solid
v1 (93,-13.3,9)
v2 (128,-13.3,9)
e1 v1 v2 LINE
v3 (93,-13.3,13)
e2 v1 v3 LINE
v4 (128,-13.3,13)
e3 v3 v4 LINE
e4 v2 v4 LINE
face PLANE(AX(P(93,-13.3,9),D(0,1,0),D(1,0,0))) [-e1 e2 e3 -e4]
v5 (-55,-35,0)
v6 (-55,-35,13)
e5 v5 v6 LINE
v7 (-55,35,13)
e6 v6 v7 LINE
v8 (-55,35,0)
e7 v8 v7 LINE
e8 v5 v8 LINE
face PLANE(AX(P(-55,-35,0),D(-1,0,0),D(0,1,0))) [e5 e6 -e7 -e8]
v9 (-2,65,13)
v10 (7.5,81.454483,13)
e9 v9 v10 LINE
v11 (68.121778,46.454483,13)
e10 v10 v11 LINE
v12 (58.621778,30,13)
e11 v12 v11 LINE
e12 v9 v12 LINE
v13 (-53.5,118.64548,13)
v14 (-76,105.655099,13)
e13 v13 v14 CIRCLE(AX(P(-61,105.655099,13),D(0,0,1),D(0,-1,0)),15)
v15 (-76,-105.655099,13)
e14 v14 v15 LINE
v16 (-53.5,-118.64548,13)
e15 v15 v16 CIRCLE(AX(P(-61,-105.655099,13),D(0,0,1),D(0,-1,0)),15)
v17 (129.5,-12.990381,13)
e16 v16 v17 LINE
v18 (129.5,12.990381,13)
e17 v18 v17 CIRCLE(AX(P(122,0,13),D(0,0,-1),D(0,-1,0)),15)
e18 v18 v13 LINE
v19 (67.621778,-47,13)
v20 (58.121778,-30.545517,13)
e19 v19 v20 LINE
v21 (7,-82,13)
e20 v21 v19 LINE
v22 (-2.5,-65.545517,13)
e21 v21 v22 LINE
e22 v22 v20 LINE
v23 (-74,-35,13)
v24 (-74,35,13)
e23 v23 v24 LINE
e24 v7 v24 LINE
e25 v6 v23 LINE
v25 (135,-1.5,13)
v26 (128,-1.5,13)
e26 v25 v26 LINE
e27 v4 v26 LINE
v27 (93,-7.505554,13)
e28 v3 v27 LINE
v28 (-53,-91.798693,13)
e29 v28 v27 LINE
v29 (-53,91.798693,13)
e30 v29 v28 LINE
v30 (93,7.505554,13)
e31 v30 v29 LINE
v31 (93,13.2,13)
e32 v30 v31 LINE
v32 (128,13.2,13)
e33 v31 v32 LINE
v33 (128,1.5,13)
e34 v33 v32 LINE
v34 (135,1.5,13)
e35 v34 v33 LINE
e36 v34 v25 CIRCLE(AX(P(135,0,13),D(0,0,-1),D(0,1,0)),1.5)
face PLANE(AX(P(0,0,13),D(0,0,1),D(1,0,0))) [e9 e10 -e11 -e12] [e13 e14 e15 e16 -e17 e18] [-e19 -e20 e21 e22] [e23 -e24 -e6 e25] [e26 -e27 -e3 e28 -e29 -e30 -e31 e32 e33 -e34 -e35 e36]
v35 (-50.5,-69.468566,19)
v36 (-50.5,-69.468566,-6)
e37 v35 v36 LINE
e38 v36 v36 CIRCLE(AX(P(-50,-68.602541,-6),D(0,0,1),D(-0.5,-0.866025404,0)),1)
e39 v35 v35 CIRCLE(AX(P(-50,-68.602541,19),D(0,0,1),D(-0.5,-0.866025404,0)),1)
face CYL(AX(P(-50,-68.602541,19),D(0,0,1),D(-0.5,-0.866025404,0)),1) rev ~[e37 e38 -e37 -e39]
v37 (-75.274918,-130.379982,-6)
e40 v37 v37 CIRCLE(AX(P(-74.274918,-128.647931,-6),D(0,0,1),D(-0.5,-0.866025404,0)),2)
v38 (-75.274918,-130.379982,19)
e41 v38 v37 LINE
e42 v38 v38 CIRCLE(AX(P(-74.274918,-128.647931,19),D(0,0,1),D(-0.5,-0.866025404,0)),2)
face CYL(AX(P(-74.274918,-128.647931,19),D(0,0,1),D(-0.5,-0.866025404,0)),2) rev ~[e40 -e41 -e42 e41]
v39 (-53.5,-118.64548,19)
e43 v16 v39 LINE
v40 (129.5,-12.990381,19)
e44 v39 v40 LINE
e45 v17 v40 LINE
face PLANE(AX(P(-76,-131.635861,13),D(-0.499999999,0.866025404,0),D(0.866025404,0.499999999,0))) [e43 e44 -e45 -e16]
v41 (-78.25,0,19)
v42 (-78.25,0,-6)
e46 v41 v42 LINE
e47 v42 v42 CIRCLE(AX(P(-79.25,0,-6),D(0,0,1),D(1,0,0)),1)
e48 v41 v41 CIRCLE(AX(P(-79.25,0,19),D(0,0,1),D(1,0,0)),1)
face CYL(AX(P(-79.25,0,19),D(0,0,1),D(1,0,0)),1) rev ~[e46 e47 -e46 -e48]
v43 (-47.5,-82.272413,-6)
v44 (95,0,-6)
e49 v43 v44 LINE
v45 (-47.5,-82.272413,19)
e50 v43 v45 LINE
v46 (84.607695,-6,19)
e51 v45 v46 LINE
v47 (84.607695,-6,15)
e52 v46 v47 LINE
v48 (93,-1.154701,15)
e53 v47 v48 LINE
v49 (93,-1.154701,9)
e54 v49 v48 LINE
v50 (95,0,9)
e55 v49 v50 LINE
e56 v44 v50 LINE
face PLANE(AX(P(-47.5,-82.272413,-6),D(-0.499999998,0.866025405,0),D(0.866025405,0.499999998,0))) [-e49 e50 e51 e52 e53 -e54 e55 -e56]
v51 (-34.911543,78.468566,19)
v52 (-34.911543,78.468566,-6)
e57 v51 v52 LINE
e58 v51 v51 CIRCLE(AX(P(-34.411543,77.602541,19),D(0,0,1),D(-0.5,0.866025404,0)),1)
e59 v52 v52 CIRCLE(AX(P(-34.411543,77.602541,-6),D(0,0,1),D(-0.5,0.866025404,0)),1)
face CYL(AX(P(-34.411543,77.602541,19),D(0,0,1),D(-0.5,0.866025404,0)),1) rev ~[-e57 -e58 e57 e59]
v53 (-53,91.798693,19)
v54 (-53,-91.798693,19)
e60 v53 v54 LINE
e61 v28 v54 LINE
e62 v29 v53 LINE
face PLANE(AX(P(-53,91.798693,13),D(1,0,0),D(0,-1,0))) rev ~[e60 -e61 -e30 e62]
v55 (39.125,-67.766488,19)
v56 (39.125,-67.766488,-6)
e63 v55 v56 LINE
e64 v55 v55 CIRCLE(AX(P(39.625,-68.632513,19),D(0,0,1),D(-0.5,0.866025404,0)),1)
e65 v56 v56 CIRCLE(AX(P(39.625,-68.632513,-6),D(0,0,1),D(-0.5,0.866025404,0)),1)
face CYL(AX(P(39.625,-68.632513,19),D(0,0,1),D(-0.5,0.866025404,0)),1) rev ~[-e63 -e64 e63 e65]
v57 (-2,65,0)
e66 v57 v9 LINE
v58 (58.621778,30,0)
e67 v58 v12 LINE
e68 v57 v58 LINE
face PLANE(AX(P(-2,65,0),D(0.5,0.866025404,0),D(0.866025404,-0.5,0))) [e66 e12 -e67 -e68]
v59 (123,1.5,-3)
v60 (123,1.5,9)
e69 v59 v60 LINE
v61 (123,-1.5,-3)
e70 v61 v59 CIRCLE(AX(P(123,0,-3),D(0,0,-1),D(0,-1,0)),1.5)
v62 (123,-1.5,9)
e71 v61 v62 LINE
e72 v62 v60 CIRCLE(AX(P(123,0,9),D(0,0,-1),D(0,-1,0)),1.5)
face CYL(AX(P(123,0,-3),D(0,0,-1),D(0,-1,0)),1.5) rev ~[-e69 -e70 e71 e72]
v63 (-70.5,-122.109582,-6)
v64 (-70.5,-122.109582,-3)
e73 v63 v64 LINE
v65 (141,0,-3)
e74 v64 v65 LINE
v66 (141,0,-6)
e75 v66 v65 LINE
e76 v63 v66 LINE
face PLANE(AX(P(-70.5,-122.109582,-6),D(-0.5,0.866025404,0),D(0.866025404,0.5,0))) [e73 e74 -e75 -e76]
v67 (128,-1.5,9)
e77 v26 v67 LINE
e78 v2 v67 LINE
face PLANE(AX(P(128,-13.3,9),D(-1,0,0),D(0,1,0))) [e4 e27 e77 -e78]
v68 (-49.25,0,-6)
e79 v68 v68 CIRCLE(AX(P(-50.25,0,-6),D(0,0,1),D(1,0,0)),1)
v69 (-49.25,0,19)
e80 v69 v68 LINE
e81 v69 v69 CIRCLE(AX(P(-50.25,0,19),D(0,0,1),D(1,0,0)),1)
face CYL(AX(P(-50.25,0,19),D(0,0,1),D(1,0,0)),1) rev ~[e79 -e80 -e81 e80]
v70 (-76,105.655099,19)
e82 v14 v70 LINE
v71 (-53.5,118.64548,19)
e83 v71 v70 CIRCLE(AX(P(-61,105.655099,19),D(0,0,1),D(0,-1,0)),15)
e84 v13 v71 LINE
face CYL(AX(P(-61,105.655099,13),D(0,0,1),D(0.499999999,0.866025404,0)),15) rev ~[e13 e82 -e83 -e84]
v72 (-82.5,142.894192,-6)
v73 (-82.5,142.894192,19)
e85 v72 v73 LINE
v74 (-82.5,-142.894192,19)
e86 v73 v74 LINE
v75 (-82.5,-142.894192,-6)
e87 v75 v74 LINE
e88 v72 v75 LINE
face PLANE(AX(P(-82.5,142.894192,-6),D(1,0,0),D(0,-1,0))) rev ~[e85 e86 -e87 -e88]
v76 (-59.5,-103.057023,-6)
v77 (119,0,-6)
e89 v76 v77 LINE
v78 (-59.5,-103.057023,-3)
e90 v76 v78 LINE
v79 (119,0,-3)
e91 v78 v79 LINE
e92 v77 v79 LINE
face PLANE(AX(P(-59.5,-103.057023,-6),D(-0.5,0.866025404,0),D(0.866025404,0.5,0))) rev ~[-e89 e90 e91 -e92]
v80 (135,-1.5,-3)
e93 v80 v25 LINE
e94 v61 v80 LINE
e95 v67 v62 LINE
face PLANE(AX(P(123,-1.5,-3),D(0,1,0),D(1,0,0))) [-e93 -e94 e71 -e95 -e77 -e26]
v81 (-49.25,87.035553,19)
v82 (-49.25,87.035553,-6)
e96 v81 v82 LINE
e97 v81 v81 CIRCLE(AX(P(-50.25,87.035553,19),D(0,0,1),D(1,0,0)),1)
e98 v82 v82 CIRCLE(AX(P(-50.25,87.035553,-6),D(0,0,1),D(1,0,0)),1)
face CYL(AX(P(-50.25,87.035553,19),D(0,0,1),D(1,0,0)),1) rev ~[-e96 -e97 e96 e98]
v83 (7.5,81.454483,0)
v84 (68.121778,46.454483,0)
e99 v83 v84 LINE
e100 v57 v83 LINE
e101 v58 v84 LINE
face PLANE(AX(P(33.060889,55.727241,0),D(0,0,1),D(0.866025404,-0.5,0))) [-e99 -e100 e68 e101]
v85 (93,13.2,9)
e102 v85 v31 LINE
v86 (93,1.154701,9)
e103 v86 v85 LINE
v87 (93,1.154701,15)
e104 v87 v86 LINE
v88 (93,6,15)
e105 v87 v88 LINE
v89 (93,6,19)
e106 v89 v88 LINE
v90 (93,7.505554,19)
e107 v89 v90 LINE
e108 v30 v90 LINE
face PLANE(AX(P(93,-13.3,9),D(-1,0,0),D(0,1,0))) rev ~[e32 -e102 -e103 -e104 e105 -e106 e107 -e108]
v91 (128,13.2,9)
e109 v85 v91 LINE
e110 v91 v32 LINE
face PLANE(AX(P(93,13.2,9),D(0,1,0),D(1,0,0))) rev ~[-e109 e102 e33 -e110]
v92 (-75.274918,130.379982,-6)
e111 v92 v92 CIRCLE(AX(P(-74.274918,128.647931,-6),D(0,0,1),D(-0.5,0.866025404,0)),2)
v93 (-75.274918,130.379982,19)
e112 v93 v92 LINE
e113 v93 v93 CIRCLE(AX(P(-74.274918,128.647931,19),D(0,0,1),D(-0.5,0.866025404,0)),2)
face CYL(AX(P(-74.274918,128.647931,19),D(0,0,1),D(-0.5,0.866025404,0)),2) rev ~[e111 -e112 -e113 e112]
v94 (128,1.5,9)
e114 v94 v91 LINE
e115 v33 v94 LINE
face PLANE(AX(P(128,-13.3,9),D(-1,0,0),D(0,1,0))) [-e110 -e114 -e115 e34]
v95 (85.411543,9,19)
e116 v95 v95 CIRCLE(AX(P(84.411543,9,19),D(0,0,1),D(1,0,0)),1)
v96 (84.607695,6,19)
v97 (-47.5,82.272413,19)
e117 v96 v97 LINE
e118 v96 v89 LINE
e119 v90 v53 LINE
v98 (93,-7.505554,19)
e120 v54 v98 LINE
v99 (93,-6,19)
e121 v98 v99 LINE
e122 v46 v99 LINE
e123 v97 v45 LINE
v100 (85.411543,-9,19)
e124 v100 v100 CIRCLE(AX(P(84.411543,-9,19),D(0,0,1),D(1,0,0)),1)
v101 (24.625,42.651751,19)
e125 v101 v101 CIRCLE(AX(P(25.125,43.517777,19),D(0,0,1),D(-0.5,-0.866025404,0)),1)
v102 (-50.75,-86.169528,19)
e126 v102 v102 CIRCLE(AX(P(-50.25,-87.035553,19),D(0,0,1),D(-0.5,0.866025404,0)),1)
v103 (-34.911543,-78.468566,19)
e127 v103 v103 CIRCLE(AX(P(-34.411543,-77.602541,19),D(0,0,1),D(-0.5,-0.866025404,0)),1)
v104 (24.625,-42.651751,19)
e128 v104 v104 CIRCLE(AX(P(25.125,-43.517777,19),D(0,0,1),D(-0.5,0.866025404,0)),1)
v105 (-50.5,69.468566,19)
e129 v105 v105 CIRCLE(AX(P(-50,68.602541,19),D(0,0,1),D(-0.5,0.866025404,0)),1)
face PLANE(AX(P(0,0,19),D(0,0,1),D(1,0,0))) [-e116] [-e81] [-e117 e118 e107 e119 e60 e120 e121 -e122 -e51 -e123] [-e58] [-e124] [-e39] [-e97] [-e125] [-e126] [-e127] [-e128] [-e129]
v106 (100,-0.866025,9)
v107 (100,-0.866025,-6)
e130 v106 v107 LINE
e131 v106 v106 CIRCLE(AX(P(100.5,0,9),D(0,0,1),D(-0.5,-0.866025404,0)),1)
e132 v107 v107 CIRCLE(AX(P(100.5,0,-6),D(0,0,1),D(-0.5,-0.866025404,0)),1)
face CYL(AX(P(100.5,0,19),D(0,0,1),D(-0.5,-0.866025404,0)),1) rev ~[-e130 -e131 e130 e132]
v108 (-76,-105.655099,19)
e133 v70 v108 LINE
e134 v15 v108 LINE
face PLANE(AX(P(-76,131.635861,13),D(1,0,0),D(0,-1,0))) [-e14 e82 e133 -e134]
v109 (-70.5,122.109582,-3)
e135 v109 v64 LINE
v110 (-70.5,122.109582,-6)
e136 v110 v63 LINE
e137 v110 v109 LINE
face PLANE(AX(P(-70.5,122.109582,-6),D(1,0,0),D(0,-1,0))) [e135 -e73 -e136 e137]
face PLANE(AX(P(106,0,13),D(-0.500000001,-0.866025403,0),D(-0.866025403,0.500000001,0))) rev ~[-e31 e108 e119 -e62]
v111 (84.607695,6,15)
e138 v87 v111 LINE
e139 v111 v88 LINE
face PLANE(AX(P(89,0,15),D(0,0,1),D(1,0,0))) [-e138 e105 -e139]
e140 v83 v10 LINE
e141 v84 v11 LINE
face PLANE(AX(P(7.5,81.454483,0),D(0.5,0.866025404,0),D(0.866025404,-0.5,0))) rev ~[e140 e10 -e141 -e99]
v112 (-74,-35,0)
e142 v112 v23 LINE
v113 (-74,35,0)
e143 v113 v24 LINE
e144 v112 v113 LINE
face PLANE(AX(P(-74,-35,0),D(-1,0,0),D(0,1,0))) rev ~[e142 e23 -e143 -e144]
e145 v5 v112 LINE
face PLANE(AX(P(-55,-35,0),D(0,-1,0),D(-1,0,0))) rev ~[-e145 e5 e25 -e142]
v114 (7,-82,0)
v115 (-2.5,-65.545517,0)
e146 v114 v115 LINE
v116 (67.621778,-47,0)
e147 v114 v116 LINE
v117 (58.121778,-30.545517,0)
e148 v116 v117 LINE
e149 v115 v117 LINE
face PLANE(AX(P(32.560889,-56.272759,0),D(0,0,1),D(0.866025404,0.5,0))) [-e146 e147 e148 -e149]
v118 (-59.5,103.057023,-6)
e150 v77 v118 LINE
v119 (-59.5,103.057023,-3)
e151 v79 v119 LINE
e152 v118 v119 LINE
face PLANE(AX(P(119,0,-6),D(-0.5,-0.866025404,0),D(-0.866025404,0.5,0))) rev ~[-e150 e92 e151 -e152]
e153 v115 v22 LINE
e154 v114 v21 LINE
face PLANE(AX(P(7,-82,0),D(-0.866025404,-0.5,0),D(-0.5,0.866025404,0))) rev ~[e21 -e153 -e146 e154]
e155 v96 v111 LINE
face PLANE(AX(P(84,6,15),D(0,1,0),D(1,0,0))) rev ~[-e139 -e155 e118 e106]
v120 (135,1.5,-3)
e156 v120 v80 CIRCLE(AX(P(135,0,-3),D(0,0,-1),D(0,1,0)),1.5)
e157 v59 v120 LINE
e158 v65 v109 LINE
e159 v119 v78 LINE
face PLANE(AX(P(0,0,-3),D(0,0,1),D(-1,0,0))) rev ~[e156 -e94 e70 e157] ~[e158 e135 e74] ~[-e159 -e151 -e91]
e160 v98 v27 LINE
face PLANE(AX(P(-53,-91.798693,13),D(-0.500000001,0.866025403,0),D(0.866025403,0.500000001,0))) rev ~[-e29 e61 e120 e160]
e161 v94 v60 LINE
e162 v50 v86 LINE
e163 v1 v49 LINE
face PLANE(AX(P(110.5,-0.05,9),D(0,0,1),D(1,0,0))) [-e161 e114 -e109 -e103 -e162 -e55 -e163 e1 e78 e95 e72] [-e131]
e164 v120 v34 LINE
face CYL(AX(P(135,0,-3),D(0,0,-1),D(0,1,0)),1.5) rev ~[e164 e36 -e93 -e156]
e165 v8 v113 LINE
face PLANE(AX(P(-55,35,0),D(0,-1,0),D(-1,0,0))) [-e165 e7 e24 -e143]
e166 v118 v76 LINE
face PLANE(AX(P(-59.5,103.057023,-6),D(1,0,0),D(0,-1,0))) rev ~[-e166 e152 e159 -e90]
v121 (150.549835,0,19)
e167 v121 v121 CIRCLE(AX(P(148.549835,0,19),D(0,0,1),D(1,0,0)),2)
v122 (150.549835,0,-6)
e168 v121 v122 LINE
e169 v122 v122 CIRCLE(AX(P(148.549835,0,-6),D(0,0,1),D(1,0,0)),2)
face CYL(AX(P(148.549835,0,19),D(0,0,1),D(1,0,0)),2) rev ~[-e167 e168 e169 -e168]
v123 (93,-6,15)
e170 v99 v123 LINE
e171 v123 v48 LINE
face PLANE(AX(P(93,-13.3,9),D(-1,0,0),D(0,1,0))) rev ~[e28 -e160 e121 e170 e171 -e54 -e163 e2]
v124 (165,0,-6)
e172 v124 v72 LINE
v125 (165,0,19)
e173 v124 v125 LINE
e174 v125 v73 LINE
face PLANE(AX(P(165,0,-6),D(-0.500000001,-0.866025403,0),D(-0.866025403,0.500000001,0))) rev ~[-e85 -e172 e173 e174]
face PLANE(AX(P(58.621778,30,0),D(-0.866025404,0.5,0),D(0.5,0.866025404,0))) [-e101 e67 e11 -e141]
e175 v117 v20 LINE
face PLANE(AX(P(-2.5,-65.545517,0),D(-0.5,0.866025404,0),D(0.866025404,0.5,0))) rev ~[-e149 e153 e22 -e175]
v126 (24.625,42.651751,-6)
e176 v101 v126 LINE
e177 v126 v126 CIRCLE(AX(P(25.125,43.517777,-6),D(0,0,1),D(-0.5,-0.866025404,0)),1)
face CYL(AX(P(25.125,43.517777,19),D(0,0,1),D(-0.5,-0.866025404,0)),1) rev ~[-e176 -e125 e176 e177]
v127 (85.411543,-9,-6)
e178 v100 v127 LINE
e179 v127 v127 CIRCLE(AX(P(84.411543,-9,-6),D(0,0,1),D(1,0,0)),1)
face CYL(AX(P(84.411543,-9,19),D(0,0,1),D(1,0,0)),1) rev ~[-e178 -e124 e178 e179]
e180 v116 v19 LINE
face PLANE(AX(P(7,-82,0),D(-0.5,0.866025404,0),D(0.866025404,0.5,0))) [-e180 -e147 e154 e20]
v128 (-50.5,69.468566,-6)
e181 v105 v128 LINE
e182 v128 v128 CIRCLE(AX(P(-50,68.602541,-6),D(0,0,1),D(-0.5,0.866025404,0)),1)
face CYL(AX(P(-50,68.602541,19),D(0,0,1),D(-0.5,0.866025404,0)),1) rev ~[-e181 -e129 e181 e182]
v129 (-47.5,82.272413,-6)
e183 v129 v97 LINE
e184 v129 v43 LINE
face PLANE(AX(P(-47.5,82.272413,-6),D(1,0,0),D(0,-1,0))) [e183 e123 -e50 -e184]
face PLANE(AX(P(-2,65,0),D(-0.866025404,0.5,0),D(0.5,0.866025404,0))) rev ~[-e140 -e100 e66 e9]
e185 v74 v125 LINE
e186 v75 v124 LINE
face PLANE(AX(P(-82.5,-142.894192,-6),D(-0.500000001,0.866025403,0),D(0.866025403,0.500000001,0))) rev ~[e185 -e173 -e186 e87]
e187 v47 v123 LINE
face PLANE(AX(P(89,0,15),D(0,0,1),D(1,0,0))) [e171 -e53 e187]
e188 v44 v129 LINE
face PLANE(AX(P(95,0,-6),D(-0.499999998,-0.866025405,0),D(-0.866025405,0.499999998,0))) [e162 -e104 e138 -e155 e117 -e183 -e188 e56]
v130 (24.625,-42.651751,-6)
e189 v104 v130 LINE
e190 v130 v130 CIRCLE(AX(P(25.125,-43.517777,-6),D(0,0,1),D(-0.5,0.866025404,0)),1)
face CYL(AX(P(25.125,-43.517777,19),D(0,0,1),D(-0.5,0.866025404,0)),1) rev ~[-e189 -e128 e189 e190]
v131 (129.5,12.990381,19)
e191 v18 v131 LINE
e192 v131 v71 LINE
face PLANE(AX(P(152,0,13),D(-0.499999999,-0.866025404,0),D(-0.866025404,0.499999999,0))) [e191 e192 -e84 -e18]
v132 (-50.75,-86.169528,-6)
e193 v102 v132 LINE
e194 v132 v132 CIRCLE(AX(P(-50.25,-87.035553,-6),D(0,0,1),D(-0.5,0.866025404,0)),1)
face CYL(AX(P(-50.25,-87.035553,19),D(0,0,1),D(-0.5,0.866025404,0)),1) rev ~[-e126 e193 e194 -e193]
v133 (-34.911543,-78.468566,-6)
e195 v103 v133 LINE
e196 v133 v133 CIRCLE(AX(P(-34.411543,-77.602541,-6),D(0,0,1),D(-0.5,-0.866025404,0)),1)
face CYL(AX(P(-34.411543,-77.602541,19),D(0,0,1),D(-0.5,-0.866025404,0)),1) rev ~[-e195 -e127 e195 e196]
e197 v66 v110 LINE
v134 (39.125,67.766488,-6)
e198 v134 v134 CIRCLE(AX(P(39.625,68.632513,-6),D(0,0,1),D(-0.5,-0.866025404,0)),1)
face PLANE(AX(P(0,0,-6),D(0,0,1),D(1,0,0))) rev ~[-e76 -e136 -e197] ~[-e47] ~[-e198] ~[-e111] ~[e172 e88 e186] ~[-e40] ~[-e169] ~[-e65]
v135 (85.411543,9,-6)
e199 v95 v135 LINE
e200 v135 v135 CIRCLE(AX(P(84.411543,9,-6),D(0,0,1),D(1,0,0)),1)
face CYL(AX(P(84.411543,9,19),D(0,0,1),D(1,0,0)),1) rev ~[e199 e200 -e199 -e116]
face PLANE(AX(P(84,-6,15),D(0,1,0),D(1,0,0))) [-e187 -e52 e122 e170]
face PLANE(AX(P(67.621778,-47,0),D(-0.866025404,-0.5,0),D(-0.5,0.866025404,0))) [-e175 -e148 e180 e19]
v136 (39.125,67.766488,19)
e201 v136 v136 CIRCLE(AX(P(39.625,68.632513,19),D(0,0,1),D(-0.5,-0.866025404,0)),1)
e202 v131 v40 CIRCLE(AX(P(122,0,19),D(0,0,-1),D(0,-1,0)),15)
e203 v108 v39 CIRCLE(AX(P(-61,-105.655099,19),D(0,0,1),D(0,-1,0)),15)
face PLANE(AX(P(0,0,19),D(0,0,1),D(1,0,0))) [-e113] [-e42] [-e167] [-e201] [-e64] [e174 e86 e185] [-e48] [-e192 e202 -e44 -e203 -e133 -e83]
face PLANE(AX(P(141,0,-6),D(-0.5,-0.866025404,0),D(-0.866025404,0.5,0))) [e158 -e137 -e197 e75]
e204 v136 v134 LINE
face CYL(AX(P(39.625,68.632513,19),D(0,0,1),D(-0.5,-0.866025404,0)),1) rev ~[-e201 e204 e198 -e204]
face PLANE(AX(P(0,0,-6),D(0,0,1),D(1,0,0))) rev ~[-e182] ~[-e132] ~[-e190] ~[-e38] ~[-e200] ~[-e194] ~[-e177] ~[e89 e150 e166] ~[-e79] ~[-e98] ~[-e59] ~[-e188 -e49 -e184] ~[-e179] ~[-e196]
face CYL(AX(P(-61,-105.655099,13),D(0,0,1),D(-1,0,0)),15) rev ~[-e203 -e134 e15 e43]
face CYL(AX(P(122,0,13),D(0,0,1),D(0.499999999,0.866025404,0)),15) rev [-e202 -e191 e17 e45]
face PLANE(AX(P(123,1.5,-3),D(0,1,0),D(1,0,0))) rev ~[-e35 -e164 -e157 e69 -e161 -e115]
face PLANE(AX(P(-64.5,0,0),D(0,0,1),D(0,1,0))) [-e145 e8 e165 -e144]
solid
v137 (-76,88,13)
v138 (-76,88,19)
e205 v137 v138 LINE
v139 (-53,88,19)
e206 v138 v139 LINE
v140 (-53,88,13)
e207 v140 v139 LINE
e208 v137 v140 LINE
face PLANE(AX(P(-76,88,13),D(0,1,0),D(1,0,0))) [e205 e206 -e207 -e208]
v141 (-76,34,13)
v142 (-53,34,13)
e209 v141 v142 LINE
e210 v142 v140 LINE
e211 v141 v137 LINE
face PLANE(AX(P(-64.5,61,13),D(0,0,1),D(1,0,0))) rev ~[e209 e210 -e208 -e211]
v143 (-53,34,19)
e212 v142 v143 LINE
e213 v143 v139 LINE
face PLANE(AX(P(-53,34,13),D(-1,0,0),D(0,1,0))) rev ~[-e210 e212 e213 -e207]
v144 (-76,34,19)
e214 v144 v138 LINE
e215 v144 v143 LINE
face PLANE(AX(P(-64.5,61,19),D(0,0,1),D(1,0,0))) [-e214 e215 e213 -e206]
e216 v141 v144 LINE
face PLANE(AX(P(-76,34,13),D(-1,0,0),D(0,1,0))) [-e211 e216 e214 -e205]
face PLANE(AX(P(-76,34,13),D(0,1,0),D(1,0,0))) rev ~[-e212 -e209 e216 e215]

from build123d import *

# Parameters (mm, degrees)
BOX005_W               = 23
BOX005_H               = 54
BOX005_DEPTH           = 6
PRISM003_DEPTH         = 6
PRISM002_DEPTH         = 6
BOX004_W               = 10
BOX004_H               = 12
BOX004_DEPTH           = 4
BOX003_W               = 35
BOX003_H               = 26.5
BOX003_DEPTH           = 10
BOX002_W               = 70
BOX002_H               = 19
BOX002_DEPTH           = 19
BOX002_PLACEMENT_ANGLE = 30
BOX001_W               = 70
BOX001_H               = 19
BOX001_DEPTH           = 19
BOX001_PLACEMENT_ANGLE = 90
BOX_W                  = 70
BOX_H                  = 19
BOX_DEPTH              = 19
BOX_PLACEMENT_ANGLE    = 30
PRISM001_DEPTH         = 25
PRISM_DEPTH            = 25
FILLET_R               = 15
SKETCH001_R            = 2
POCKET_DEPTH           = 782.777352
POLARPATTERN_COUNT     = 3
POCKET001_DEPTH        = 3
SKETCH002_R            = 1
POCKET002_DEPTH        = 782.777352
POLARPATTERN001_COUNT  = 3
SKETCH004_R            = 1
POCKET003_DEPTH        = 782.777352
POLARPATTERN002_COUNT  = 3
POLARPATTERN003_COUNT  = 3
SKETCH005_R            = 1
POCKET004_DEPTH        = 782.777352
POLARPATTERN004_COUNT  = 3
POCKET005_DEPTH        = 22.001


with BuildPart() as box005:
    # Box005 → Box005 (new body)
    with BuildSketch(Plane(origin=(-76, 34, 13), x_dir=(1, 0, 0), z_dir=(0, 0, 1))):
        with Locations((11.5, 27)):
            Rectangle(BOX005_W, BOX005_H)
    extrude(amount=BOX005_DEPTH)


with BuildPart() as prism003:
    # Prism003 → Prism003 (new body)
    with BuildSketch(Plane.XY.offset(13)):
        Polygon((106, 0), (-53, 91.798693), (-53, -91.798693), align=None)
    extrude(amount=PRISM003_DEPTH)


with BuildPart() as cut006:
    # Prism002 → Prism002 (new body)
    with BuildSketch(Plane.XY.offset(13)):
        Polygon((152, 0), (-76, 131.635861), (-76, -131.635861), align=None)
    extrude(amount=PRISM002_DEPTH)

    # Cut006: cut Prism003
    add(prism003.part, mode=Mode.SUBTRACT)


with BuildPart() as box004:
    # Box004 → Box004 (new body)
    with BuildSketch(Plane(origin=(84, -6, 15), x_dir=(1, 0, 0), z_dir=(0, 0, 1))):
        with Locations((5, 6)):
            Rectangle(BOX004_W, BOX004_H)
    extrude(amount=BOX004_DEPTH)


with BuildPart() as box003:
    # Box003 → Box003 (new body)
    with BuildSketch(Plane(origin=(93, -13.3, 9), x_dir=(1, 0, 0), z_dir=(0, 0, 1))):
        with Locations((17.5, 13.25)):
            Rectangle(BOX003_W, BOX003_H)
    extrude(amount=BOX003_DEPTH)


with BuildPart() as box002:
    # Box002 → Box002 (new body)
    with BuildSketch(Plane.XY):
        with Locations((35, 9.5)):
            Rectangle(BOX002_W, BOX002_H)
    extrude(amount=BOX002_DEPTH)


with BuildPart() as box002_1:
    # Box002 placement: moved
    add(box002.part.moved(Location((7, -82, 0))).rotate(Axis((7, -82, 0), (0, 0, 1)), BOX002_PLACEMENT_ANGLE))


with BuildPart() as box001:
    # Box001 → Box001 (new body)
    with BuildSketch(Plane.XY):
        with Locations((35, 9.5)):
            Rectangle(BOX001_W, BOX001_H)
    extrude(amount=BOX001_DEPTH)


with BuildPart() as box001_1:
    # Box001 placement: moved
    add(box001.part.moved(Location((-55, -35, 0))).rotate(Axis((-55, -35, 0), (0, 0, 1)), BOX001_PLACEMENT_ANGLE))


with BuildPart() as box:
    # Box → Box (new body)
    with BuildSketch(Plane.XY):
        with Locations((35, 9.5)):
            Rectangle(BOX_W, BOX_H)
    extrude(amount=BOX_DEPTH)


with BuildPart() as box_1:
    # Box placement: moved
    add(box.part.moved(Location((-2, 65, 0))).rotate(Axis((-2, 65, 0), (0, 0, -1)), BOX_PLACEMENT_ANGLE))


with BuildPart() as prism001:
    # Prism001 → Prism001 (new body)
    with BuildSketch(Plane.XY.offset(-6)):
        Polygon((95, 0), (-47.5, 82.272413), (-47.5, -82.272413), align=None)
    extrude(amount=PRISM001_DEPTH)


with BuildPart() as body:
    # Prism → Prism (new body)
    with BuildSketch(Plane.XY.offset(-6)):
        Polygon((165, 0), (-82.5, 142.894192), (-82.5, -142.894192), align=None)
    extrude(amount=PRISM_DEPTH)

    # Cut: cut Prism001
    add(prism001.part, mode=Mode.SUBTRACT)

    # Cut001: cut Box
    add(box_1.part, mode=Mode.SUBTRACT)

    # Cut002: cut Box001
    add(box001_1.part, mode=Mode.SUBTRACT)

    # Cut003: cut Box002
    add(box002_1.part, mode=Mode.SUBTRACT)

    # Cut004: cut Box003
    add(box003.part, mode=Mode.SUBTRACT)

    # Cut005: cut Box004
    add(box004.part, mode=Mode.SUBTRACT)

    # Cut007: cut Cut006
    add(cut006.part, mode=Mode.SUBTRACT)

    # Fillet
    fillet_edges = [body.edges().sort_by_distance(p)[0] for p in [
        (152, 0, 16),
        (-76, 131.635861, 16),
        (-76, -131.635861, 16),
    ]]
    fillet(fillet_edges, radius=FILLET_R)

    # Sketch001 (on Face1 of BaseFeature) → Pocket (cut, through all)
    with BuildSketch(Plane.XY.offset(19)):
        with Locations((148.549835, 0)):
            Circle(SKETCH001_R)
    pocket = extrude(amount=-POCKET_DEPTH, mode=Mode.SUBTRACT)

    # PolarPattern: Pocket ×3 about axis
    polarpattern_axis = Axis((0, 0, 19), (0, 0, 1))
    for i in range(1, POLARPATTERN_COUNT):
        add(pocket.rotate(polarpattern_axis, i * 360 / POLARPATTERN_COUNT), mode=Mode.SUBTRACT)

    # Sketch003 (on Face14 of PolarPattern) → Pocket001 (cut)
    with BuildSketch(Plane(origin=(0, 0, -6), x_dir=(1, 0, 0), z_dir=(0, 0, -1))):
        Polygon((-70.5, 122.109582), (141, 0), (-70.5, -122.109582), align=None)
        Polygon((-59.5, -103.057023), (-59.5, 103.057023), (119, 0), align=None, mode=Mode.SUBTRACT)
    extrude(amount=-POCKET001_DEPTH, mode=Mode.SUBTRACT)

    # Sketch002 (on Face39 of PolarPattern) → Pocket002 (cut, through all)
    with BuildSketch(Plane.XY.offset(19)):
        with Locations((-50.25, 0)):
            Circle(SKETCH002_R)
        with Locations((-50.25, 87.035553)):
            Circle(SKETCH002_R)
    pocket002 = extrude(amount=-POCKET002_DEPTH, mode=Mode.SUBTRACT)

    # PolarPattern001: Pocket002 ×3 about axis
    polarpattern001_axis = Axis((0, 0, 19), (0, 0, 1))
    for i in range(1, POLARPATTERN001_COUNT):
        add(pocket002.rotate(polarpattern001_axis, i * 360 / POLARPATTERN001_COUNT), mode=Mode.SUBTRACT)

    # Sketch004 (on Face40 of PolarPattern001) → Pocket003 (cut, through all)
    with BuildSketch(Plane.XY.offset(19)):
        with Locations((84.411543, 9)):
            Circle(SKETCH004_R)
        with Locations((84.411543, -9)):
            Circle(SKETCH004_R)
    pocket003 = extrude(amount=-POCKET003_DEPTH, mode=Mode.SUBTRACT)

    # PolarPattern002: Pocket003 ×3 about axis
    polarpattern002_axis = Axis((0, 0, 19), (0, 0, 1))
    for i in range(1, POLARPATTERN002_COUNT):
        add(pocket003.rotate(polarpattern002_axis, i * 360 / POLARPATTERN002_COUNT), mode=Mode.SUBTRACT)

    # PolarPattern003: Pocket002 ×3 about axis
    polarpattern003_axis = Axis((0, 0, 19), (0, 0, 1))
    for i in range(1, POLARPATTERN003_COUNT):
        add(pocket002.rotate(polarpattern003_axis, i * 360 / POLARPATTERN003_COUNT), mode=Mode.SUBTRACT)

    # Sketch005 (on Face1 of PolarPattern003) → Pocket004 (cut, through all)
    with BuildSketch(Plane.XY.offset(19)):
        with Locations((-79.25, 0)):
            Circle(SKETCH005_R)
    pocket004 = extrude(amount=-POCKET004_DEPTH, mode=Mode.SUBTRACT)

    # PolarPattern004: Pocket004 ×3 about axis
    polarpattern004_axis = Axis((0, 0, 19), (0, 0, 1))
    for i in range(1, POLARPATTERN004_COUNT):
        add(pocket004.rotate(polarpattern004_axis, i * 360 / POLARPATTERN004_COUNT), mode=Mode.SUBTRACT)

    # Sketch006 (on Face42 of PolarPattern004) → Pocket005 (cut, through all)
    with BuildSketch(Plane(origin=(0, 0, -3), x_dir=(1, 0, 0), z_dir=(0, 0, -1))):
        with BuildLine():
            ThreePointArc((123, 1.5), (121.5, 0), (123, -1.5))
            Line((123, -1.5), (135, -1.5))
            ThreePointArc((135, -1.5), (136.5, 0), (135, 1.5))
            Line((123, 1.5), (135, 1.5))
        make_face()
    extrude(amount=-POCKET005_DEPTH, mode=Mode.SUBTRACT)


solid = Compound([box005.part, body.part])
